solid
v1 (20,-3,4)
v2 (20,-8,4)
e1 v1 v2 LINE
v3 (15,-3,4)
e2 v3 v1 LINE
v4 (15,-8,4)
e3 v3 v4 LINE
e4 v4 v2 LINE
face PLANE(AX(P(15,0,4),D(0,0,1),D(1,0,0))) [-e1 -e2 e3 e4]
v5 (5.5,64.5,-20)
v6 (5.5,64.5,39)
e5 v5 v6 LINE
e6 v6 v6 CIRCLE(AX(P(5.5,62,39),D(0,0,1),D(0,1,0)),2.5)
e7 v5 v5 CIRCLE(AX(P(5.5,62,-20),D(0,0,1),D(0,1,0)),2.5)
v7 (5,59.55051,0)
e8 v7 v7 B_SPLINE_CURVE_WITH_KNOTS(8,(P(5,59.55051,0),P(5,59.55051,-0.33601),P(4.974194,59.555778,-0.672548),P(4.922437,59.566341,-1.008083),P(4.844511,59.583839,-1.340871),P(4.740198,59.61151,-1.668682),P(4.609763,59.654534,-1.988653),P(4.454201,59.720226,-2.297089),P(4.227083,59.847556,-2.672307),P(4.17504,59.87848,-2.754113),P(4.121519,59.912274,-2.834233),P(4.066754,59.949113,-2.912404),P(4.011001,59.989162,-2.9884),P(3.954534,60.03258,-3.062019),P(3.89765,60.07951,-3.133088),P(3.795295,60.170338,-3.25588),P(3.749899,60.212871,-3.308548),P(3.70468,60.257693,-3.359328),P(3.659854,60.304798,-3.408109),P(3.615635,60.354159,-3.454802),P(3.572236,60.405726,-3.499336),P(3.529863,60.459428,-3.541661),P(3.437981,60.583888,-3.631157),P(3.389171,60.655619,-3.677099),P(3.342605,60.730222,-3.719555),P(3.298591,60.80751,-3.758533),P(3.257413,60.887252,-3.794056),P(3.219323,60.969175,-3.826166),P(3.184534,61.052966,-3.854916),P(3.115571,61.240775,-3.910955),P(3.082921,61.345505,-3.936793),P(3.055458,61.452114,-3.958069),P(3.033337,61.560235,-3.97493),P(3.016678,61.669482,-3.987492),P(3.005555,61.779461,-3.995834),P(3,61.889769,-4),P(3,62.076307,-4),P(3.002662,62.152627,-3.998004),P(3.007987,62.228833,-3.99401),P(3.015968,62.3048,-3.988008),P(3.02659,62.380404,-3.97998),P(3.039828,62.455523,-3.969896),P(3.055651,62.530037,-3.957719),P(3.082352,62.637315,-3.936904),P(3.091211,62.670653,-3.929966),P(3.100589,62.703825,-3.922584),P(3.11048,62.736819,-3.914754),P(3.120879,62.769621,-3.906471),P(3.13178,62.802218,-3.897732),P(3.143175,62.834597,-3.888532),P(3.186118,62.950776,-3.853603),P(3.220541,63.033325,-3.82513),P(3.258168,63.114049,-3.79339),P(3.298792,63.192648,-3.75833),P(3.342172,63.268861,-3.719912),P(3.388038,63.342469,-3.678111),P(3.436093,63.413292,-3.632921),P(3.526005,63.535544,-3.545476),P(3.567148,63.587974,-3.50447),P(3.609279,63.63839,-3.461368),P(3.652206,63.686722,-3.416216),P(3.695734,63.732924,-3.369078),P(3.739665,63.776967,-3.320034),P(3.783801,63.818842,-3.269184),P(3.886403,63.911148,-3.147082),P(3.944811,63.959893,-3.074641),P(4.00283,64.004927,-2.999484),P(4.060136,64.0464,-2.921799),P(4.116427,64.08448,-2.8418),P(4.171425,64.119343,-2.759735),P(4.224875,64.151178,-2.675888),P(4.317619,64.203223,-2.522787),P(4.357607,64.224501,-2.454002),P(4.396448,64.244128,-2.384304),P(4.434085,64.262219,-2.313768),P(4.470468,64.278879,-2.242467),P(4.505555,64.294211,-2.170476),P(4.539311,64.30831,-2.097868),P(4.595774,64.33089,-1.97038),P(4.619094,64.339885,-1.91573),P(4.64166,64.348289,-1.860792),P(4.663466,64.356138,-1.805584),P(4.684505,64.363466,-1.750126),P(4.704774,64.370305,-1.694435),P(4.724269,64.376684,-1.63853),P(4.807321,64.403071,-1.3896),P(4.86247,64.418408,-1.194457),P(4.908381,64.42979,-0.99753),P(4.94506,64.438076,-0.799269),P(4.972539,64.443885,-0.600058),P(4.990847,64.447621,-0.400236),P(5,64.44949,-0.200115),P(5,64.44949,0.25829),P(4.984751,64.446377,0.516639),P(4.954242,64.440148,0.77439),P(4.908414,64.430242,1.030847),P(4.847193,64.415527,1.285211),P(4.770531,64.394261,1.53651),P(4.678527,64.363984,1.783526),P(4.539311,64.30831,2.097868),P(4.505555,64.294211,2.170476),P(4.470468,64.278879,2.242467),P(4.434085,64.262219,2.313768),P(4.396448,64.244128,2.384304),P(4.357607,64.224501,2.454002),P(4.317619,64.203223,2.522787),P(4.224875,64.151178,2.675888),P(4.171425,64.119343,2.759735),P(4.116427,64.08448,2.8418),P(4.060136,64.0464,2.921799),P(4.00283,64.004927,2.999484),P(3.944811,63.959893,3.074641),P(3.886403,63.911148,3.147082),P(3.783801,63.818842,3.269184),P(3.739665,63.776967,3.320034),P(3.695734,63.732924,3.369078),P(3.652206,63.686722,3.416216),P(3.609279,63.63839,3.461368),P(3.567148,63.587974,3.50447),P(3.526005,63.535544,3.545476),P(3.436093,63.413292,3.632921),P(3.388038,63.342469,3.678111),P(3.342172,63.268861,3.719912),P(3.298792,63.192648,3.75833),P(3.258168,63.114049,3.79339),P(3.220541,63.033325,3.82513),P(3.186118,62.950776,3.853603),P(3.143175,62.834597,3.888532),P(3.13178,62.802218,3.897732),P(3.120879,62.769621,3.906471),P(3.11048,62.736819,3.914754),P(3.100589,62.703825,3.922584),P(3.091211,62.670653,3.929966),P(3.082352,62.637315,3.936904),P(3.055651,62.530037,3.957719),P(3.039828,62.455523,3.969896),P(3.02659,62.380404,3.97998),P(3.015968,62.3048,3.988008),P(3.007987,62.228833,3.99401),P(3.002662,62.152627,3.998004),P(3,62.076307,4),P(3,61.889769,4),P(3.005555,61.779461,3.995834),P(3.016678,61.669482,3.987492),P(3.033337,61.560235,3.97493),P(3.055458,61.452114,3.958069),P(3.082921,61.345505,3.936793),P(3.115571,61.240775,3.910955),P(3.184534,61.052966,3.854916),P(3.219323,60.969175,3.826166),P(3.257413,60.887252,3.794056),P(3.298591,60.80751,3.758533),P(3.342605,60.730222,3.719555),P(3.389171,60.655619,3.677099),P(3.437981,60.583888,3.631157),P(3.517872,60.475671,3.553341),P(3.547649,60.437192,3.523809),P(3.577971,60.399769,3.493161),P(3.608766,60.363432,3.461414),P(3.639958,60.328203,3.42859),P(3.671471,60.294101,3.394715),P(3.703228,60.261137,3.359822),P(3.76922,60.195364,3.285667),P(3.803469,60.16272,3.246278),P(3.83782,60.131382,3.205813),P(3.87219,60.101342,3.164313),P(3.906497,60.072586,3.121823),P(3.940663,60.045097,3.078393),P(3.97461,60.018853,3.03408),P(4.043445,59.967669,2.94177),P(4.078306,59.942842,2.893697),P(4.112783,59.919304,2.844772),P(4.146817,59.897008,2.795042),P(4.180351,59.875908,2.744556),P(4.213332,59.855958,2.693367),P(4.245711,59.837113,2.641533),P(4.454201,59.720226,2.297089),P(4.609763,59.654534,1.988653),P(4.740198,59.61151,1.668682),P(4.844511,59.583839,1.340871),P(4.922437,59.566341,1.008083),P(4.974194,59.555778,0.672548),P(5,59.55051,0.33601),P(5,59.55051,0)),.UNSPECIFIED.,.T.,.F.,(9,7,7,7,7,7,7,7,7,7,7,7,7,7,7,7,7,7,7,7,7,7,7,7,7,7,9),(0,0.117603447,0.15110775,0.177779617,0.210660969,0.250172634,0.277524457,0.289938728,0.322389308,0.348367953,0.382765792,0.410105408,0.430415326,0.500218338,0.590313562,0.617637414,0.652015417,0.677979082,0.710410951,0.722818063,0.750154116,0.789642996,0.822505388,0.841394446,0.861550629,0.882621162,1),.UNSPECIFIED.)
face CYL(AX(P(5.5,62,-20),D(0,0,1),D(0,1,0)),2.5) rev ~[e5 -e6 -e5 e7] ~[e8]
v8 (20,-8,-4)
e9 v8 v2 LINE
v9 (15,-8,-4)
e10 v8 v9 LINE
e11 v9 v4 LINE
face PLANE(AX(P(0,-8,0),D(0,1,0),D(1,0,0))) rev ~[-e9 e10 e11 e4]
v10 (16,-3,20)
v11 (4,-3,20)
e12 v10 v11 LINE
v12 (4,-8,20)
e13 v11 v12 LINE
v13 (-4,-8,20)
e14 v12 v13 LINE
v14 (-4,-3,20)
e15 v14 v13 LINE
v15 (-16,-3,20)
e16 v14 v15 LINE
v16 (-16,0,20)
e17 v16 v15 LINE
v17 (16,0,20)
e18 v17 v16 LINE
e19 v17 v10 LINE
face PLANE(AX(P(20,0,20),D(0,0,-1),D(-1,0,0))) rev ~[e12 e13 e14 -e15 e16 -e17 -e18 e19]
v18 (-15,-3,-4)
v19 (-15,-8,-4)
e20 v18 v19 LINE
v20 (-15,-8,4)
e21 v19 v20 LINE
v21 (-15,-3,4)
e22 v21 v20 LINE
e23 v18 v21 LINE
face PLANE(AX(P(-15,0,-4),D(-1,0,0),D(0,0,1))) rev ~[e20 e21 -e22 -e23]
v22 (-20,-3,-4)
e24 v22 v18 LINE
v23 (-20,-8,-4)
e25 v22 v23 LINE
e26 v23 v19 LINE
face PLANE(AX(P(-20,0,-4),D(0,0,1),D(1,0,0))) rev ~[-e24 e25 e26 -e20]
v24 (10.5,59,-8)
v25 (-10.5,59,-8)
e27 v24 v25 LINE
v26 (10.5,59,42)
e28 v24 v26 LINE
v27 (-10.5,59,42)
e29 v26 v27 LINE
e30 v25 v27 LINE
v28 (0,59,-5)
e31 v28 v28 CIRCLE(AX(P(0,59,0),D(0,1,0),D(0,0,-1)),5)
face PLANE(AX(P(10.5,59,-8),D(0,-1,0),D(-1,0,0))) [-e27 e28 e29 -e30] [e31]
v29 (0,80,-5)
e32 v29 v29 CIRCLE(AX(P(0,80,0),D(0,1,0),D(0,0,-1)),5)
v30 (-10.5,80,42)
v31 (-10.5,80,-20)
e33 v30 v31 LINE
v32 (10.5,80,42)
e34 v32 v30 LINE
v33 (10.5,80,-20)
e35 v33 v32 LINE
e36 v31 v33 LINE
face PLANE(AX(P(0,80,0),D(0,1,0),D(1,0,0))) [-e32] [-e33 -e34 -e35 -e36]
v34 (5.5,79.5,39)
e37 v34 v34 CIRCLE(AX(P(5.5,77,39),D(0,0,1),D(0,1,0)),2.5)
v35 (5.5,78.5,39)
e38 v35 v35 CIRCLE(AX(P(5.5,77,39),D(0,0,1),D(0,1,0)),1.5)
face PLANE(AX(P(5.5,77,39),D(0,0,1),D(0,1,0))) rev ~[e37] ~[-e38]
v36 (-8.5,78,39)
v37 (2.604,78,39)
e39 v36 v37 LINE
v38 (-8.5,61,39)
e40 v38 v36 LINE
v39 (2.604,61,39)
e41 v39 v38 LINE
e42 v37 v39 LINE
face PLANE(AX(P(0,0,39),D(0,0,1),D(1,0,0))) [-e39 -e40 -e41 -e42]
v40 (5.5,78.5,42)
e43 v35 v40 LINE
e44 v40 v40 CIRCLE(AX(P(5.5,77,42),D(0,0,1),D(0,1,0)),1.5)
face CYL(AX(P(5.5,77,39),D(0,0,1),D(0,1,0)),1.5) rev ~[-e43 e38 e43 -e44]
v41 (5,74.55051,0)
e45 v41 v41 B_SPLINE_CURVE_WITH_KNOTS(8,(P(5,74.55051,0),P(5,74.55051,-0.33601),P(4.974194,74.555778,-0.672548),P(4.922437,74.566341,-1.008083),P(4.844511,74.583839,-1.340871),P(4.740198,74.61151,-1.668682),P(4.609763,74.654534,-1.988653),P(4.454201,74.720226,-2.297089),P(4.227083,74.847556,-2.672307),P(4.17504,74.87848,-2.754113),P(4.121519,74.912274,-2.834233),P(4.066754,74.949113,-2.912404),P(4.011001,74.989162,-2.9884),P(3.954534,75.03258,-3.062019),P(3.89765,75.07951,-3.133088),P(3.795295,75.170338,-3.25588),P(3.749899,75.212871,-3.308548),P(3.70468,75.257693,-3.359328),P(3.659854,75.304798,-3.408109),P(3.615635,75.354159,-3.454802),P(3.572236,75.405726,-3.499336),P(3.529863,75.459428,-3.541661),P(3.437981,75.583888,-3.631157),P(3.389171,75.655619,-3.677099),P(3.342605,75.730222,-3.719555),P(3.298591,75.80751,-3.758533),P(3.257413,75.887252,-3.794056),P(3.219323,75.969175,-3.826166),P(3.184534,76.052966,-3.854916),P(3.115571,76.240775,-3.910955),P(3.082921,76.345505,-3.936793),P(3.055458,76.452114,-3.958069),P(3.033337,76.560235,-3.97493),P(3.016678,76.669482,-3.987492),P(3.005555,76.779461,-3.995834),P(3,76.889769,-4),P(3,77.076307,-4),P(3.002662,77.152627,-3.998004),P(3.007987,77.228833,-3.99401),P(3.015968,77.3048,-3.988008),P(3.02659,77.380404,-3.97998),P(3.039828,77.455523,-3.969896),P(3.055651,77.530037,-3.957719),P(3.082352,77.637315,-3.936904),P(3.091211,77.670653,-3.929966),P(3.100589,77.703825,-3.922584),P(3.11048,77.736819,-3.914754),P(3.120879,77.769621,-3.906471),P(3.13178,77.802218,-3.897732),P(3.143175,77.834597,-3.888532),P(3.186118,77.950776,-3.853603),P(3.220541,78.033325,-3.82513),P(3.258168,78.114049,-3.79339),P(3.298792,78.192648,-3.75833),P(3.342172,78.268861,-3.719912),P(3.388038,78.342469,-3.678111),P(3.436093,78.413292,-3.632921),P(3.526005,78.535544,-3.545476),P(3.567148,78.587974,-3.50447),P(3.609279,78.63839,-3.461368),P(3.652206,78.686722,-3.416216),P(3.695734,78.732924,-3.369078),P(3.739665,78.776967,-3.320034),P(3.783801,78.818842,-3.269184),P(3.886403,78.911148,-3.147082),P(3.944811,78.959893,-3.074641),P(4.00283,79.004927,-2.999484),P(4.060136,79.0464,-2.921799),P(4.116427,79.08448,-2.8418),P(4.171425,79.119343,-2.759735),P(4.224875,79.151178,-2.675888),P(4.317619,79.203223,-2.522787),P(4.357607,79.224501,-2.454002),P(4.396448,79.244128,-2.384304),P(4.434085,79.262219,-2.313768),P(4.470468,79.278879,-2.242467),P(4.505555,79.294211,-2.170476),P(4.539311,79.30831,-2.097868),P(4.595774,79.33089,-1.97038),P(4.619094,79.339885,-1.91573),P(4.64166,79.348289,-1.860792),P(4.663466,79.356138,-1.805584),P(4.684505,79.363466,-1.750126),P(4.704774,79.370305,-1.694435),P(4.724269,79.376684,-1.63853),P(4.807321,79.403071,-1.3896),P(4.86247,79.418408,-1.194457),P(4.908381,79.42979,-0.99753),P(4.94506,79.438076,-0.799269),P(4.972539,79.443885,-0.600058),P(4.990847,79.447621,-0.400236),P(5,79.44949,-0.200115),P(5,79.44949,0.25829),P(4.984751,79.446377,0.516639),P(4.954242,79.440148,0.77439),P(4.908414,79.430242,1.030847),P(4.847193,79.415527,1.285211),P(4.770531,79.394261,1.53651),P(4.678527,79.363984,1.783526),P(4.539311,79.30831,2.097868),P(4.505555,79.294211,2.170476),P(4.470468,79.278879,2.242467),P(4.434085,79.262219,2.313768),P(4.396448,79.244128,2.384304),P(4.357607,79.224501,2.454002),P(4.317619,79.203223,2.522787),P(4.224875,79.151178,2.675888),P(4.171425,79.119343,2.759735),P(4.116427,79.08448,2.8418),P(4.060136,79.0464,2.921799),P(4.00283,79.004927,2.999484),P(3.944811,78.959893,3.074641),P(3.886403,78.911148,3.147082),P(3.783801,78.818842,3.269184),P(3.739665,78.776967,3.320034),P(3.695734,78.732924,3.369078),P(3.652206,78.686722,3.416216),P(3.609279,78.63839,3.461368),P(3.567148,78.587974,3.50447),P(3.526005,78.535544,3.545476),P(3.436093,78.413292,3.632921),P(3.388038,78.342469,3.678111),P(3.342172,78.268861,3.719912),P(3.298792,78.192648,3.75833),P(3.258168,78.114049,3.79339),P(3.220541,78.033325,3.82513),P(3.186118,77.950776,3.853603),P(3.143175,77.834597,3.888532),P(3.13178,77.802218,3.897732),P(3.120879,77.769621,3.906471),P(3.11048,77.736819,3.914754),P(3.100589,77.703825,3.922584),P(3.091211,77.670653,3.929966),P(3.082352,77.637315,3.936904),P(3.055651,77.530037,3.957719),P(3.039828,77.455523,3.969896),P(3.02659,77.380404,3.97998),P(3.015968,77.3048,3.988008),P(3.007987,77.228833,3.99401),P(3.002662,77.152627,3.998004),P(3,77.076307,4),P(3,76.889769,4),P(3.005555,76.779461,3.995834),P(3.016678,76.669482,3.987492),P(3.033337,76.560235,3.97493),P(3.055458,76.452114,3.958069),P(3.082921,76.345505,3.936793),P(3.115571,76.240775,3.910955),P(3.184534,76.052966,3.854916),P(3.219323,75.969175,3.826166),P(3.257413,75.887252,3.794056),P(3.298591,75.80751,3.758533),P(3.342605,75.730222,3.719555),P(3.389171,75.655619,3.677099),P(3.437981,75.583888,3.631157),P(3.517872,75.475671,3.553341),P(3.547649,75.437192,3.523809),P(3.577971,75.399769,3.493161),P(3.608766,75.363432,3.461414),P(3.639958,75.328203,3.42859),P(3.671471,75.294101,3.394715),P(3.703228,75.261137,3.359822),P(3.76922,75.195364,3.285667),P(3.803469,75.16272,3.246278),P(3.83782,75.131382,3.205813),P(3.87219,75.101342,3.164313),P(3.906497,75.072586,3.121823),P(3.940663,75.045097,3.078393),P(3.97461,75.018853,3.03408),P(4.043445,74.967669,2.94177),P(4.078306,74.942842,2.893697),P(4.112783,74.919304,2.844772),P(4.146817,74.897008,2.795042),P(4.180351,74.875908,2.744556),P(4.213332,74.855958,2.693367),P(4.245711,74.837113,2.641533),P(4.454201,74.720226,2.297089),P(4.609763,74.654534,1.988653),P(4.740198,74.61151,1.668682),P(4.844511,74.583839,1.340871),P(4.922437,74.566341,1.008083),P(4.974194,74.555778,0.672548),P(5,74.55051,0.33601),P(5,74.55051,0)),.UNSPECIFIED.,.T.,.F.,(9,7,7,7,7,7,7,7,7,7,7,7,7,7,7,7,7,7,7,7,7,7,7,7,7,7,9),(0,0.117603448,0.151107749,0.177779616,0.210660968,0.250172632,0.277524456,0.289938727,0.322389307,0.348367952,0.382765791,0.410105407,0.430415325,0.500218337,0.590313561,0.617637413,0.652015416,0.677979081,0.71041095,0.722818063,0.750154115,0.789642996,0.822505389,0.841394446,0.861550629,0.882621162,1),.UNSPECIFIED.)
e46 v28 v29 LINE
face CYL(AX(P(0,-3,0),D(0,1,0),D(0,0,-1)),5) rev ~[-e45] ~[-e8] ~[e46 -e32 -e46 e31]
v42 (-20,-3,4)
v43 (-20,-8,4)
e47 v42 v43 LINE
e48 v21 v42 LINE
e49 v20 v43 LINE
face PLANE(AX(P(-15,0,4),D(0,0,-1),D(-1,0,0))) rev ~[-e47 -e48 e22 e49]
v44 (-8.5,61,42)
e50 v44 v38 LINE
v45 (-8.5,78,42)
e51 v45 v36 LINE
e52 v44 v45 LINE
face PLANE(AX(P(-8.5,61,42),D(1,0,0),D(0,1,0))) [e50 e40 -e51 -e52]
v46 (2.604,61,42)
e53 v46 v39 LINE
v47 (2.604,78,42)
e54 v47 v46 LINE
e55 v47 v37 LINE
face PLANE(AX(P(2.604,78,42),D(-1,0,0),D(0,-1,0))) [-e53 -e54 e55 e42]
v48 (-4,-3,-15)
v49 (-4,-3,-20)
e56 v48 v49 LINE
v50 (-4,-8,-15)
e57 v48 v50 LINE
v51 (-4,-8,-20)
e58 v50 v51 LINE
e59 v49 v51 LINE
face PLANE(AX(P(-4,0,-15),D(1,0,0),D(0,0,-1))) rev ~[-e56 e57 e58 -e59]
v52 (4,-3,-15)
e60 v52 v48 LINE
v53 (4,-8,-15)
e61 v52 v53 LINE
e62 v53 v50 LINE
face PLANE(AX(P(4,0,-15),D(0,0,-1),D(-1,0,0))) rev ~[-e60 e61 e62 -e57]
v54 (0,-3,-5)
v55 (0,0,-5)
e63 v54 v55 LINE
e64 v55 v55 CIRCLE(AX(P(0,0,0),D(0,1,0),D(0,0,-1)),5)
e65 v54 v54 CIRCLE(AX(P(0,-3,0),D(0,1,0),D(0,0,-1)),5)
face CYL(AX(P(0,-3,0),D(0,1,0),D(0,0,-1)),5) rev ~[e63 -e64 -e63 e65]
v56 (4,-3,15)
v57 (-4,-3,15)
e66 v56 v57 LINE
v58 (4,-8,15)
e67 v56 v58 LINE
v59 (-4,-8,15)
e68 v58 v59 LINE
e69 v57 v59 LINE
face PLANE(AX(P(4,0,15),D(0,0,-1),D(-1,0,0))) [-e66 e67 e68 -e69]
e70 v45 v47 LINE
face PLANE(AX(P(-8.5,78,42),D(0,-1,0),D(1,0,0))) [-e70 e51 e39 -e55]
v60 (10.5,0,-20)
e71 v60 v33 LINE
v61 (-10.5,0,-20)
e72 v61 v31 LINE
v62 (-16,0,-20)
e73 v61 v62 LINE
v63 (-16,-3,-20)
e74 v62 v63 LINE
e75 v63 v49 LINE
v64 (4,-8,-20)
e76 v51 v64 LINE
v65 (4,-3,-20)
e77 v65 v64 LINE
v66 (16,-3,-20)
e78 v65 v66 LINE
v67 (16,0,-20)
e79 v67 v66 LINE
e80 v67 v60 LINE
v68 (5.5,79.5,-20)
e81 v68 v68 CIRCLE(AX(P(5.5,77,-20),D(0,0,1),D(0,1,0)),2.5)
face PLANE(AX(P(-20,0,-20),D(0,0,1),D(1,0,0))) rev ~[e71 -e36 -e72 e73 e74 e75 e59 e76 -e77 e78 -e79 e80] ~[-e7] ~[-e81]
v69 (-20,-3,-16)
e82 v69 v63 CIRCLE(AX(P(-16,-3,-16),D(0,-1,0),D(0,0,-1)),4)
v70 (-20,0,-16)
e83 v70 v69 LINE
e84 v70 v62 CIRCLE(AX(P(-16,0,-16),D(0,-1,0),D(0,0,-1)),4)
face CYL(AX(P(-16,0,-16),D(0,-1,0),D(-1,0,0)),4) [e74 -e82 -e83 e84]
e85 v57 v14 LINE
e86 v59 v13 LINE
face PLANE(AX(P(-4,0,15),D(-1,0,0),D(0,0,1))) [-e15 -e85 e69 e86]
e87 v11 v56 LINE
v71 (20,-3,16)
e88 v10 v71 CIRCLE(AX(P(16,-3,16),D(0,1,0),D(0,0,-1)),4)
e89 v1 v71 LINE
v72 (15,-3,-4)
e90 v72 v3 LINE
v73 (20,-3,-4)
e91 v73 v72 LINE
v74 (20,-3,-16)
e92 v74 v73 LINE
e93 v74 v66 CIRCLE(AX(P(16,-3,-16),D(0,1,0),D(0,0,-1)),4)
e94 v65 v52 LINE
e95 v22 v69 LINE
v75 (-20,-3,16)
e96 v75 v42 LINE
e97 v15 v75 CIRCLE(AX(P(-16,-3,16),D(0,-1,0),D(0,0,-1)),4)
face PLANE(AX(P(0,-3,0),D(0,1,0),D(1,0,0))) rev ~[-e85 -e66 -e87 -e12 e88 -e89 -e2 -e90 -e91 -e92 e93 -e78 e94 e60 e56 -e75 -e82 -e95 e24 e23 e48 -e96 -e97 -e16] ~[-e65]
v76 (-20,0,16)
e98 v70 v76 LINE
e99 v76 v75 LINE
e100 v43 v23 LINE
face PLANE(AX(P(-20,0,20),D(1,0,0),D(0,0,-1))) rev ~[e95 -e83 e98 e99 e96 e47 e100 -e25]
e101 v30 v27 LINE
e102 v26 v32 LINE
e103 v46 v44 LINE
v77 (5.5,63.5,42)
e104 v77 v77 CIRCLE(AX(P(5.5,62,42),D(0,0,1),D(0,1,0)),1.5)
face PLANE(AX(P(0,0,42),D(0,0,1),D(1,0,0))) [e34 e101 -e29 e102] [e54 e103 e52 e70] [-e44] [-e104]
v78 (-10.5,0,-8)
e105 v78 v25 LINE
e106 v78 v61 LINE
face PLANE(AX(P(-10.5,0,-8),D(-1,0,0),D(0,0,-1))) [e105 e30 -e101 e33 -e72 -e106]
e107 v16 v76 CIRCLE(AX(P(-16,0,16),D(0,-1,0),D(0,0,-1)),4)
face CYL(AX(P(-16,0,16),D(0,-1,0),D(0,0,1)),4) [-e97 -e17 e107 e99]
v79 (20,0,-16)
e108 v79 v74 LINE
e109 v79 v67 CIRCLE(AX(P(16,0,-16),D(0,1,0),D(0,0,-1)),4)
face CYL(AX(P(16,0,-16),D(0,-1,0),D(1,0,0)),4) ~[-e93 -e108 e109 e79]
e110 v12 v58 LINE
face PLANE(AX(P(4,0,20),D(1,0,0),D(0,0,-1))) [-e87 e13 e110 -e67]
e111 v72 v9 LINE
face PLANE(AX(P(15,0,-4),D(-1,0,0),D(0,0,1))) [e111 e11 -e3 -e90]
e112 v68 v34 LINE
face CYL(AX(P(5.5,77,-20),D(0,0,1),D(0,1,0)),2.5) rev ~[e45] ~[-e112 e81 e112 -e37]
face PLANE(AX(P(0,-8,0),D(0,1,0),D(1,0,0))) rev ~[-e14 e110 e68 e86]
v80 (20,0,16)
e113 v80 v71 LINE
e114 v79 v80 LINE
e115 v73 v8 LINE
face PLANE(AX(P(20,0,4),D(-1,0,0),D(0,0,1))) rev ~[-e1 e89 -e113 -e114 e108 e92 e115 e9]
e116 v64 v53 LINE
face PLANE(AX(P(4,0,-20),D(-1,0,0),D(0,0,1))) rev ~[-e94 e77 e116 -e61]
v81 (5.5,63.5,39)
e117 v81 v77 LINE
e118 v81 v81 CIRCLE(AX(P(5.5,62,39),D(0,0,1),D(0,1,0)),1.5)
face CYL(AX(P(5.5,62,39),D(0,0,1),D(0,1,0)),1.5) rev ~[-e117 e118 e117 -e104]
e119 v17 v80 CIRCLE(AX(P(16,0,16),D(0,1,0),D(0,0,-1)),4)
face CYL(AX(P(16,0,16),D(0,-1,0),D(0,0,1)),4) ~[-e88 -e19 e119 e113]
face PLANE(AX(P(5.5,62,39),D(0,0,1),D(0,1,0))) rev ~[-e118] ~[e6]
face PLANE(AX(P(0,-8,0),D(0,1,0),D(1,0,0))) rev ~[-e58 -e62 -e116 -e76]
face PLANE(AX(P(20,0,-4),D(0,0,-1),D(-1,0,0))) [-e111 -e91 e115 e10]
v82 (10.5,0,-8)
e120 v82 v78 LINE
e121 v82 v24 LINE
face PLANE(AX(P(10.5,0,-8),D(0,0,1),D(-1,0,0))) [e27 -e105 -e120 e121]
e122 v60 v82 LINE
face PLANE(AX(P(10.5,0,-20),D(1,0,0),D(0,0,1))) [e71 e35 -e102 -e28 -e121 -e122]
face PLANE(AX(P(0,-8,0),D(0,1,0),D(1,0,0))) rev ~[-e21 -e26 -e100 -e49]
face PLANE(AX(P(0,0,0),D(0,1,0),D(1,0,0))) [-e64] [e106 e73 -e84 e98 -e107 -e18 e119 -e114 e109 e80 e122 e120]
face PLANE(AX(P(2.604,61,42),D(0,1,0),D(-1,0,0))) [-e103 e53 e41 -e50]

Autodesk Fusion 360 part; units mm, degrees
sketch "Sketch1" plane through (0, 0, 0) normal (0, 1, 0) x (1, 0, 0)
  line L0 (20, -20) -> (-20, -20)
  line L1 (-20, -20) -> (-20, 20)
  line L2 (-20, 20) -> (20, 20)
  line L3 (20, 20) -> (20, -20)
  line L4 (20, -20) -> (-20, 20) construction
  line L5 (-20, -20) -> (20, 20) construction
  line L6 (-20, 4) -> (-15, 4)
  line L7 (-15, 4) -> (-15, -4)
  line L8 (-15, -4) -> (-20, -4)
  line L9 (-20, -4) -> (-20, 4)
  line L10 (-4, 20) -> (4, 20)
  line L11 (4, 20) -> (4, 15)
  line L12 (4, 15) -> (-4, 15)
  line L13 (-4, 15) -> (-4, 20)
  line L14 (20, 4) -> (15, 4)
  line L15 (15, 4) -> (15, -4)
  line L16 (15, -4) -> (20, -4)
  line L17 (20, -4) -> (20, 4)
  line L18 (-4, -20) -> (4, -20)
  line L19 (4, -20) -> (4, -15)
  line L20 (4, -15) -> (-4, -15)
  line L21 (-4, -15) -> (-4, -20)
  dimension "d1" = 40
  dimension "d2" = 40
  dimension "d3" = 5
  dimension "d4" = 8
  dimension "d5" = 16
  dimension "d6" = 5
  dimension "d7" = 16
  dimension "d8" = 8
  dimension "d9" = 5
  dimension "d10" = 5
  dimension "d11" = 8
  dimension "d12" = 8
  dimension "d13" = 16
  dimension "d14" = 16
extrude "Extrude1" add sketch "Sketch1" against normal blind 3 contours L0 L1 L2 L3 L6 L7 L8 L11 L12 L13 L14 L15 L16 L19 L20 L21
extrude "Extrude2" add sketch "Sketch1" against normal blind 8 contours L0 L18 L19 L20 L21 | L3 L14 L15 L16 L17 | L1 L6 L7 L8 L9 | L2 L10 L11 L12 L13
hole "Hole1" at (0, 0, 0) direction (0, -1, 0) diameter 9 depth 30 tip angle 118
fillet "Fillet1" radius 4 4 edges at (20, -1.5, -20) (-20, -1.5, -20) (20, -1.5, 20) (-20, -1.5, 20)
sketch "Sketch2" plane through (0, 0, 0) normal (0, 0, 1) x (1, 0, 0)
sketch "Sketch3" plane through (0, 0, 0) normal (0, 1, 0) x (1, 0, 0)
  line L0 (-10.5, 20) -> (10.5, 20)
  line L1 (10.5, 20) -> (10.5, 8)
  line L2 (10.5, 8) -> (-10.5, 8)
  line L3 (-10.5, 8) -> (-10.5, 20)
  line L4 (-20, -20) -> (-20, 20)
  dimension "d26" = 21
  dimension "d27" = 9.5
  dimension "d28" = 12
extrude "Extrude3" add sketch "Sketch3" along normal blind 80
sketch "Sketch4" plane through (0, 0, -8) normal (0, 0, 1) x (1, 0, 0)
  line L0 (-10.5, 0) -> (10.5, 0)
  line L1 (10.5, 0) -> (10.5, 80)
  line L2 (10.5, 80) -> (-10.5, 80)
  line L3 (-10.5, 80) -> (-10.5, 0)
  line L4 (-10.5, 80) -> (10.5, 80)
  line L5 (10.5, 80) -> (10.5, 59)
  line L6 (10.5, 59) -> (-10.5, 59)
  line L7 (-10.5, 59) -> (-10.5, 80)
  line L8 (8.5, 78) -> (8.5, 61)
  line L9 (8.5, 61) -> (-8.5, 61)
  line L10 (-8.5, 61) -> (-8.5, 78)
  line L11 (-8.5, 78) -> (8.5, 78)
  line L12 (-8.5, 78) -> (8.5, 78)
  line L13 (8.5, 78) -> (8.5, 64.8708)
  line L14 (-8.5, 64.8708) -> (-8.5, 78)
  line L15 (-8.5, 61) -> (8.5, 61)
  line L16 (8.5, 61) -> (8.5, 70.3993)
  line L17 (8.5, 70.3993) -> (-8.5, 70.3993)
  line L18 (-8.5, 70.3993) -> (-8.5, 61)
  point P0 (-7.5, 64)
  point P1 (7.5, 64)
  dimension "d29" = 21
  dimension "d30" = 21
  dimension "d31" = 2
  dimension "d34" = 5
  dimension "d35" = 15
  dimension "d36" = 3
extrude "Extrude6" add sketch "Sketch4" along normal blind 50 contours L1 L2 L3 L4 L5 L6 L7 | L8 L10 L11 L12 L13 L14 L17 | L8 L9 L10 L13 L14 L15 L16 L17 L18
sketch "Sketch7" plane through (0, 0, 42) normal (0, 0, 1) x (1, 0, 0)
  line L0 (-10.5, 59) -> (10.5, 59)
  line L1 (10.5, 59) -> (10.5, 80)
  line L2 (10.5, 80) -> (-10.5, 80)
  line L3 (-10.5, 80) -> (-10.5, 59)
  line L4 (-10.5, 80) -> (10.5, 80)
  line L5 (10.5, 80) -> (10.5, 59)
  line L6 (10.5, 59) -> (-10.5, 59)
  line L7 (-10.5, 59) -> (-10.5, 80)
  line L8 (8.5, 61) -> (-8.5, 61)
  line L9 (-8.5, 61) -> (-8.5, 78)
  line L10 (-8.5, 78) -> (8.5, 78)
  line L11 (8.5, 78) -> (8.5, 61)
  line L12 (-8.5, 78) -> (2.604, 78)
  line L13 (2.604, 78) -> (2.604, 61)
  line L14 (2.604, 61) -> (-8.5, 61)
  line L15 (-8.5, 61) -> (-8.5, 78)
  point P0 (5.5, 77)
  point P1 (5.5, 62)
  point P2 (-33, 92)
  dimension "d55" = 2
  dimension "d58" = 5
  dimension "d59" = 15
  dimension "d60" = 3
extrude "Extrude7" cut sketch "Sketch7" against normal blind 3 contours L8 L9 L10 L12 L13 L14 L15
sketch "Sketch8" plane through (0, 0, -20) normal (0, 0, -1) x (-1, 0, 0)
  line L0 (16, -3) -> (16, 0)
  line L1 (16, 0) -> (10.5, 0)
  line L2 (10.5, 0) -> (10.5, 80)
  line L3 (10.5, 80) -> (-10.5, 80)
  line L4 (-10.5, 80) -> (-10.5, 0)
  line L5 (-10.5, 0) -> (-16, 0)
  line L6 (-16, 0) -> (-16, -3)
  line L7 (-16, -3) -> (-4, -3)
  line L8 (-4, -3) -> (-4, -8)
  line L9 (-4, -8) -> (4, -8)
  line L10 (4, -8) -> (4, -3)
  line L11 (4, -3) -> (16, -3)
  point P0 (-5.5, 77)
  point P1 (-5.5, 62)
  dimension "d61" = 3
  dimension "d62" = 15
  dimension "d63" = 5
hole "Hole5" at (5.5, 62, -20) at (5.5, 77, -20) direction (0, 0, 1) diameter 3 depth 75 tip angle 118 counterbore diameter 5 counterbore depth 59
sketch "Sketch9" plane through (0, -3, 0) normal (0, -1, 0) x (1, 0, 0)
  arc A0 (-16, 20) -> (-20, 16) centre (-16, 16) ccw
  line L0 (-20, 16) -> (-20, 4)
  line L1 (-20, 4) -> (-15, 4)
  line L2 (-15, 4) -> (-15, -4)
  line L3 (-15, -4) -> (-20, -4)
  line L4 (-20, -4) -> (-20, -16)
  arc A1 (-20, -16) -> (-16, -20) centre (-16, -16) ccw
  line L5 (-16, -20) -> (-4, -20)
  line L6 (-4, -20) -> (-4, -15)
  line L7 (-4, -15) -> (4, -15)
  line L8 (4, -15) -> (4, -20)
  line L9 (4, -20) -> (16, -20)
  arc A2 (16, -20) -> (20, -16) centre (16, -16) ccw
  line L10 (20, -16) -> (20, -4)
  line L11 (20, -4) -> (15, -4)
  line L12 (15, -4) -> (15, 4)
  line L13 (15, 4) -> (20, 4)
  line L14 (20, 4) -> (20, 16)
  arc A3 (20, 16) -> (16, 20) centre (16, 16) ccw
  line L15 (16, 20) -> (4, 20)
  line L16 (4, 20) -> (4, 15)
  line L17 (4, 15) -> (-4, 15)
  line L18 (-4, 15) -> (-4, 20)
  line L19 (-4, 20) -> (-16, 20)
  circle A4 centre (0, 0) radius 4.5
  point P0 (2, 0)
sketch "Sketch10" plane through (0, -3, 0) normal (0, -1, 0) x (1, 0, 0)
  circle A0 centre (0, 0) radius 4.5
hole "Hole6" at (0, -3, 0) direction (0, 1, 0) diameter 10 depth 90 tip angle 118
equation "d6 = d3"
equation "d7 = d5"
equation "d8 = d4"
equation "d9 = d3"
equation "d10 = d3"
equation "d11 = d4"
equation "d12 = d4"
equation "d13 = d7"
equation "d14 = d7"
